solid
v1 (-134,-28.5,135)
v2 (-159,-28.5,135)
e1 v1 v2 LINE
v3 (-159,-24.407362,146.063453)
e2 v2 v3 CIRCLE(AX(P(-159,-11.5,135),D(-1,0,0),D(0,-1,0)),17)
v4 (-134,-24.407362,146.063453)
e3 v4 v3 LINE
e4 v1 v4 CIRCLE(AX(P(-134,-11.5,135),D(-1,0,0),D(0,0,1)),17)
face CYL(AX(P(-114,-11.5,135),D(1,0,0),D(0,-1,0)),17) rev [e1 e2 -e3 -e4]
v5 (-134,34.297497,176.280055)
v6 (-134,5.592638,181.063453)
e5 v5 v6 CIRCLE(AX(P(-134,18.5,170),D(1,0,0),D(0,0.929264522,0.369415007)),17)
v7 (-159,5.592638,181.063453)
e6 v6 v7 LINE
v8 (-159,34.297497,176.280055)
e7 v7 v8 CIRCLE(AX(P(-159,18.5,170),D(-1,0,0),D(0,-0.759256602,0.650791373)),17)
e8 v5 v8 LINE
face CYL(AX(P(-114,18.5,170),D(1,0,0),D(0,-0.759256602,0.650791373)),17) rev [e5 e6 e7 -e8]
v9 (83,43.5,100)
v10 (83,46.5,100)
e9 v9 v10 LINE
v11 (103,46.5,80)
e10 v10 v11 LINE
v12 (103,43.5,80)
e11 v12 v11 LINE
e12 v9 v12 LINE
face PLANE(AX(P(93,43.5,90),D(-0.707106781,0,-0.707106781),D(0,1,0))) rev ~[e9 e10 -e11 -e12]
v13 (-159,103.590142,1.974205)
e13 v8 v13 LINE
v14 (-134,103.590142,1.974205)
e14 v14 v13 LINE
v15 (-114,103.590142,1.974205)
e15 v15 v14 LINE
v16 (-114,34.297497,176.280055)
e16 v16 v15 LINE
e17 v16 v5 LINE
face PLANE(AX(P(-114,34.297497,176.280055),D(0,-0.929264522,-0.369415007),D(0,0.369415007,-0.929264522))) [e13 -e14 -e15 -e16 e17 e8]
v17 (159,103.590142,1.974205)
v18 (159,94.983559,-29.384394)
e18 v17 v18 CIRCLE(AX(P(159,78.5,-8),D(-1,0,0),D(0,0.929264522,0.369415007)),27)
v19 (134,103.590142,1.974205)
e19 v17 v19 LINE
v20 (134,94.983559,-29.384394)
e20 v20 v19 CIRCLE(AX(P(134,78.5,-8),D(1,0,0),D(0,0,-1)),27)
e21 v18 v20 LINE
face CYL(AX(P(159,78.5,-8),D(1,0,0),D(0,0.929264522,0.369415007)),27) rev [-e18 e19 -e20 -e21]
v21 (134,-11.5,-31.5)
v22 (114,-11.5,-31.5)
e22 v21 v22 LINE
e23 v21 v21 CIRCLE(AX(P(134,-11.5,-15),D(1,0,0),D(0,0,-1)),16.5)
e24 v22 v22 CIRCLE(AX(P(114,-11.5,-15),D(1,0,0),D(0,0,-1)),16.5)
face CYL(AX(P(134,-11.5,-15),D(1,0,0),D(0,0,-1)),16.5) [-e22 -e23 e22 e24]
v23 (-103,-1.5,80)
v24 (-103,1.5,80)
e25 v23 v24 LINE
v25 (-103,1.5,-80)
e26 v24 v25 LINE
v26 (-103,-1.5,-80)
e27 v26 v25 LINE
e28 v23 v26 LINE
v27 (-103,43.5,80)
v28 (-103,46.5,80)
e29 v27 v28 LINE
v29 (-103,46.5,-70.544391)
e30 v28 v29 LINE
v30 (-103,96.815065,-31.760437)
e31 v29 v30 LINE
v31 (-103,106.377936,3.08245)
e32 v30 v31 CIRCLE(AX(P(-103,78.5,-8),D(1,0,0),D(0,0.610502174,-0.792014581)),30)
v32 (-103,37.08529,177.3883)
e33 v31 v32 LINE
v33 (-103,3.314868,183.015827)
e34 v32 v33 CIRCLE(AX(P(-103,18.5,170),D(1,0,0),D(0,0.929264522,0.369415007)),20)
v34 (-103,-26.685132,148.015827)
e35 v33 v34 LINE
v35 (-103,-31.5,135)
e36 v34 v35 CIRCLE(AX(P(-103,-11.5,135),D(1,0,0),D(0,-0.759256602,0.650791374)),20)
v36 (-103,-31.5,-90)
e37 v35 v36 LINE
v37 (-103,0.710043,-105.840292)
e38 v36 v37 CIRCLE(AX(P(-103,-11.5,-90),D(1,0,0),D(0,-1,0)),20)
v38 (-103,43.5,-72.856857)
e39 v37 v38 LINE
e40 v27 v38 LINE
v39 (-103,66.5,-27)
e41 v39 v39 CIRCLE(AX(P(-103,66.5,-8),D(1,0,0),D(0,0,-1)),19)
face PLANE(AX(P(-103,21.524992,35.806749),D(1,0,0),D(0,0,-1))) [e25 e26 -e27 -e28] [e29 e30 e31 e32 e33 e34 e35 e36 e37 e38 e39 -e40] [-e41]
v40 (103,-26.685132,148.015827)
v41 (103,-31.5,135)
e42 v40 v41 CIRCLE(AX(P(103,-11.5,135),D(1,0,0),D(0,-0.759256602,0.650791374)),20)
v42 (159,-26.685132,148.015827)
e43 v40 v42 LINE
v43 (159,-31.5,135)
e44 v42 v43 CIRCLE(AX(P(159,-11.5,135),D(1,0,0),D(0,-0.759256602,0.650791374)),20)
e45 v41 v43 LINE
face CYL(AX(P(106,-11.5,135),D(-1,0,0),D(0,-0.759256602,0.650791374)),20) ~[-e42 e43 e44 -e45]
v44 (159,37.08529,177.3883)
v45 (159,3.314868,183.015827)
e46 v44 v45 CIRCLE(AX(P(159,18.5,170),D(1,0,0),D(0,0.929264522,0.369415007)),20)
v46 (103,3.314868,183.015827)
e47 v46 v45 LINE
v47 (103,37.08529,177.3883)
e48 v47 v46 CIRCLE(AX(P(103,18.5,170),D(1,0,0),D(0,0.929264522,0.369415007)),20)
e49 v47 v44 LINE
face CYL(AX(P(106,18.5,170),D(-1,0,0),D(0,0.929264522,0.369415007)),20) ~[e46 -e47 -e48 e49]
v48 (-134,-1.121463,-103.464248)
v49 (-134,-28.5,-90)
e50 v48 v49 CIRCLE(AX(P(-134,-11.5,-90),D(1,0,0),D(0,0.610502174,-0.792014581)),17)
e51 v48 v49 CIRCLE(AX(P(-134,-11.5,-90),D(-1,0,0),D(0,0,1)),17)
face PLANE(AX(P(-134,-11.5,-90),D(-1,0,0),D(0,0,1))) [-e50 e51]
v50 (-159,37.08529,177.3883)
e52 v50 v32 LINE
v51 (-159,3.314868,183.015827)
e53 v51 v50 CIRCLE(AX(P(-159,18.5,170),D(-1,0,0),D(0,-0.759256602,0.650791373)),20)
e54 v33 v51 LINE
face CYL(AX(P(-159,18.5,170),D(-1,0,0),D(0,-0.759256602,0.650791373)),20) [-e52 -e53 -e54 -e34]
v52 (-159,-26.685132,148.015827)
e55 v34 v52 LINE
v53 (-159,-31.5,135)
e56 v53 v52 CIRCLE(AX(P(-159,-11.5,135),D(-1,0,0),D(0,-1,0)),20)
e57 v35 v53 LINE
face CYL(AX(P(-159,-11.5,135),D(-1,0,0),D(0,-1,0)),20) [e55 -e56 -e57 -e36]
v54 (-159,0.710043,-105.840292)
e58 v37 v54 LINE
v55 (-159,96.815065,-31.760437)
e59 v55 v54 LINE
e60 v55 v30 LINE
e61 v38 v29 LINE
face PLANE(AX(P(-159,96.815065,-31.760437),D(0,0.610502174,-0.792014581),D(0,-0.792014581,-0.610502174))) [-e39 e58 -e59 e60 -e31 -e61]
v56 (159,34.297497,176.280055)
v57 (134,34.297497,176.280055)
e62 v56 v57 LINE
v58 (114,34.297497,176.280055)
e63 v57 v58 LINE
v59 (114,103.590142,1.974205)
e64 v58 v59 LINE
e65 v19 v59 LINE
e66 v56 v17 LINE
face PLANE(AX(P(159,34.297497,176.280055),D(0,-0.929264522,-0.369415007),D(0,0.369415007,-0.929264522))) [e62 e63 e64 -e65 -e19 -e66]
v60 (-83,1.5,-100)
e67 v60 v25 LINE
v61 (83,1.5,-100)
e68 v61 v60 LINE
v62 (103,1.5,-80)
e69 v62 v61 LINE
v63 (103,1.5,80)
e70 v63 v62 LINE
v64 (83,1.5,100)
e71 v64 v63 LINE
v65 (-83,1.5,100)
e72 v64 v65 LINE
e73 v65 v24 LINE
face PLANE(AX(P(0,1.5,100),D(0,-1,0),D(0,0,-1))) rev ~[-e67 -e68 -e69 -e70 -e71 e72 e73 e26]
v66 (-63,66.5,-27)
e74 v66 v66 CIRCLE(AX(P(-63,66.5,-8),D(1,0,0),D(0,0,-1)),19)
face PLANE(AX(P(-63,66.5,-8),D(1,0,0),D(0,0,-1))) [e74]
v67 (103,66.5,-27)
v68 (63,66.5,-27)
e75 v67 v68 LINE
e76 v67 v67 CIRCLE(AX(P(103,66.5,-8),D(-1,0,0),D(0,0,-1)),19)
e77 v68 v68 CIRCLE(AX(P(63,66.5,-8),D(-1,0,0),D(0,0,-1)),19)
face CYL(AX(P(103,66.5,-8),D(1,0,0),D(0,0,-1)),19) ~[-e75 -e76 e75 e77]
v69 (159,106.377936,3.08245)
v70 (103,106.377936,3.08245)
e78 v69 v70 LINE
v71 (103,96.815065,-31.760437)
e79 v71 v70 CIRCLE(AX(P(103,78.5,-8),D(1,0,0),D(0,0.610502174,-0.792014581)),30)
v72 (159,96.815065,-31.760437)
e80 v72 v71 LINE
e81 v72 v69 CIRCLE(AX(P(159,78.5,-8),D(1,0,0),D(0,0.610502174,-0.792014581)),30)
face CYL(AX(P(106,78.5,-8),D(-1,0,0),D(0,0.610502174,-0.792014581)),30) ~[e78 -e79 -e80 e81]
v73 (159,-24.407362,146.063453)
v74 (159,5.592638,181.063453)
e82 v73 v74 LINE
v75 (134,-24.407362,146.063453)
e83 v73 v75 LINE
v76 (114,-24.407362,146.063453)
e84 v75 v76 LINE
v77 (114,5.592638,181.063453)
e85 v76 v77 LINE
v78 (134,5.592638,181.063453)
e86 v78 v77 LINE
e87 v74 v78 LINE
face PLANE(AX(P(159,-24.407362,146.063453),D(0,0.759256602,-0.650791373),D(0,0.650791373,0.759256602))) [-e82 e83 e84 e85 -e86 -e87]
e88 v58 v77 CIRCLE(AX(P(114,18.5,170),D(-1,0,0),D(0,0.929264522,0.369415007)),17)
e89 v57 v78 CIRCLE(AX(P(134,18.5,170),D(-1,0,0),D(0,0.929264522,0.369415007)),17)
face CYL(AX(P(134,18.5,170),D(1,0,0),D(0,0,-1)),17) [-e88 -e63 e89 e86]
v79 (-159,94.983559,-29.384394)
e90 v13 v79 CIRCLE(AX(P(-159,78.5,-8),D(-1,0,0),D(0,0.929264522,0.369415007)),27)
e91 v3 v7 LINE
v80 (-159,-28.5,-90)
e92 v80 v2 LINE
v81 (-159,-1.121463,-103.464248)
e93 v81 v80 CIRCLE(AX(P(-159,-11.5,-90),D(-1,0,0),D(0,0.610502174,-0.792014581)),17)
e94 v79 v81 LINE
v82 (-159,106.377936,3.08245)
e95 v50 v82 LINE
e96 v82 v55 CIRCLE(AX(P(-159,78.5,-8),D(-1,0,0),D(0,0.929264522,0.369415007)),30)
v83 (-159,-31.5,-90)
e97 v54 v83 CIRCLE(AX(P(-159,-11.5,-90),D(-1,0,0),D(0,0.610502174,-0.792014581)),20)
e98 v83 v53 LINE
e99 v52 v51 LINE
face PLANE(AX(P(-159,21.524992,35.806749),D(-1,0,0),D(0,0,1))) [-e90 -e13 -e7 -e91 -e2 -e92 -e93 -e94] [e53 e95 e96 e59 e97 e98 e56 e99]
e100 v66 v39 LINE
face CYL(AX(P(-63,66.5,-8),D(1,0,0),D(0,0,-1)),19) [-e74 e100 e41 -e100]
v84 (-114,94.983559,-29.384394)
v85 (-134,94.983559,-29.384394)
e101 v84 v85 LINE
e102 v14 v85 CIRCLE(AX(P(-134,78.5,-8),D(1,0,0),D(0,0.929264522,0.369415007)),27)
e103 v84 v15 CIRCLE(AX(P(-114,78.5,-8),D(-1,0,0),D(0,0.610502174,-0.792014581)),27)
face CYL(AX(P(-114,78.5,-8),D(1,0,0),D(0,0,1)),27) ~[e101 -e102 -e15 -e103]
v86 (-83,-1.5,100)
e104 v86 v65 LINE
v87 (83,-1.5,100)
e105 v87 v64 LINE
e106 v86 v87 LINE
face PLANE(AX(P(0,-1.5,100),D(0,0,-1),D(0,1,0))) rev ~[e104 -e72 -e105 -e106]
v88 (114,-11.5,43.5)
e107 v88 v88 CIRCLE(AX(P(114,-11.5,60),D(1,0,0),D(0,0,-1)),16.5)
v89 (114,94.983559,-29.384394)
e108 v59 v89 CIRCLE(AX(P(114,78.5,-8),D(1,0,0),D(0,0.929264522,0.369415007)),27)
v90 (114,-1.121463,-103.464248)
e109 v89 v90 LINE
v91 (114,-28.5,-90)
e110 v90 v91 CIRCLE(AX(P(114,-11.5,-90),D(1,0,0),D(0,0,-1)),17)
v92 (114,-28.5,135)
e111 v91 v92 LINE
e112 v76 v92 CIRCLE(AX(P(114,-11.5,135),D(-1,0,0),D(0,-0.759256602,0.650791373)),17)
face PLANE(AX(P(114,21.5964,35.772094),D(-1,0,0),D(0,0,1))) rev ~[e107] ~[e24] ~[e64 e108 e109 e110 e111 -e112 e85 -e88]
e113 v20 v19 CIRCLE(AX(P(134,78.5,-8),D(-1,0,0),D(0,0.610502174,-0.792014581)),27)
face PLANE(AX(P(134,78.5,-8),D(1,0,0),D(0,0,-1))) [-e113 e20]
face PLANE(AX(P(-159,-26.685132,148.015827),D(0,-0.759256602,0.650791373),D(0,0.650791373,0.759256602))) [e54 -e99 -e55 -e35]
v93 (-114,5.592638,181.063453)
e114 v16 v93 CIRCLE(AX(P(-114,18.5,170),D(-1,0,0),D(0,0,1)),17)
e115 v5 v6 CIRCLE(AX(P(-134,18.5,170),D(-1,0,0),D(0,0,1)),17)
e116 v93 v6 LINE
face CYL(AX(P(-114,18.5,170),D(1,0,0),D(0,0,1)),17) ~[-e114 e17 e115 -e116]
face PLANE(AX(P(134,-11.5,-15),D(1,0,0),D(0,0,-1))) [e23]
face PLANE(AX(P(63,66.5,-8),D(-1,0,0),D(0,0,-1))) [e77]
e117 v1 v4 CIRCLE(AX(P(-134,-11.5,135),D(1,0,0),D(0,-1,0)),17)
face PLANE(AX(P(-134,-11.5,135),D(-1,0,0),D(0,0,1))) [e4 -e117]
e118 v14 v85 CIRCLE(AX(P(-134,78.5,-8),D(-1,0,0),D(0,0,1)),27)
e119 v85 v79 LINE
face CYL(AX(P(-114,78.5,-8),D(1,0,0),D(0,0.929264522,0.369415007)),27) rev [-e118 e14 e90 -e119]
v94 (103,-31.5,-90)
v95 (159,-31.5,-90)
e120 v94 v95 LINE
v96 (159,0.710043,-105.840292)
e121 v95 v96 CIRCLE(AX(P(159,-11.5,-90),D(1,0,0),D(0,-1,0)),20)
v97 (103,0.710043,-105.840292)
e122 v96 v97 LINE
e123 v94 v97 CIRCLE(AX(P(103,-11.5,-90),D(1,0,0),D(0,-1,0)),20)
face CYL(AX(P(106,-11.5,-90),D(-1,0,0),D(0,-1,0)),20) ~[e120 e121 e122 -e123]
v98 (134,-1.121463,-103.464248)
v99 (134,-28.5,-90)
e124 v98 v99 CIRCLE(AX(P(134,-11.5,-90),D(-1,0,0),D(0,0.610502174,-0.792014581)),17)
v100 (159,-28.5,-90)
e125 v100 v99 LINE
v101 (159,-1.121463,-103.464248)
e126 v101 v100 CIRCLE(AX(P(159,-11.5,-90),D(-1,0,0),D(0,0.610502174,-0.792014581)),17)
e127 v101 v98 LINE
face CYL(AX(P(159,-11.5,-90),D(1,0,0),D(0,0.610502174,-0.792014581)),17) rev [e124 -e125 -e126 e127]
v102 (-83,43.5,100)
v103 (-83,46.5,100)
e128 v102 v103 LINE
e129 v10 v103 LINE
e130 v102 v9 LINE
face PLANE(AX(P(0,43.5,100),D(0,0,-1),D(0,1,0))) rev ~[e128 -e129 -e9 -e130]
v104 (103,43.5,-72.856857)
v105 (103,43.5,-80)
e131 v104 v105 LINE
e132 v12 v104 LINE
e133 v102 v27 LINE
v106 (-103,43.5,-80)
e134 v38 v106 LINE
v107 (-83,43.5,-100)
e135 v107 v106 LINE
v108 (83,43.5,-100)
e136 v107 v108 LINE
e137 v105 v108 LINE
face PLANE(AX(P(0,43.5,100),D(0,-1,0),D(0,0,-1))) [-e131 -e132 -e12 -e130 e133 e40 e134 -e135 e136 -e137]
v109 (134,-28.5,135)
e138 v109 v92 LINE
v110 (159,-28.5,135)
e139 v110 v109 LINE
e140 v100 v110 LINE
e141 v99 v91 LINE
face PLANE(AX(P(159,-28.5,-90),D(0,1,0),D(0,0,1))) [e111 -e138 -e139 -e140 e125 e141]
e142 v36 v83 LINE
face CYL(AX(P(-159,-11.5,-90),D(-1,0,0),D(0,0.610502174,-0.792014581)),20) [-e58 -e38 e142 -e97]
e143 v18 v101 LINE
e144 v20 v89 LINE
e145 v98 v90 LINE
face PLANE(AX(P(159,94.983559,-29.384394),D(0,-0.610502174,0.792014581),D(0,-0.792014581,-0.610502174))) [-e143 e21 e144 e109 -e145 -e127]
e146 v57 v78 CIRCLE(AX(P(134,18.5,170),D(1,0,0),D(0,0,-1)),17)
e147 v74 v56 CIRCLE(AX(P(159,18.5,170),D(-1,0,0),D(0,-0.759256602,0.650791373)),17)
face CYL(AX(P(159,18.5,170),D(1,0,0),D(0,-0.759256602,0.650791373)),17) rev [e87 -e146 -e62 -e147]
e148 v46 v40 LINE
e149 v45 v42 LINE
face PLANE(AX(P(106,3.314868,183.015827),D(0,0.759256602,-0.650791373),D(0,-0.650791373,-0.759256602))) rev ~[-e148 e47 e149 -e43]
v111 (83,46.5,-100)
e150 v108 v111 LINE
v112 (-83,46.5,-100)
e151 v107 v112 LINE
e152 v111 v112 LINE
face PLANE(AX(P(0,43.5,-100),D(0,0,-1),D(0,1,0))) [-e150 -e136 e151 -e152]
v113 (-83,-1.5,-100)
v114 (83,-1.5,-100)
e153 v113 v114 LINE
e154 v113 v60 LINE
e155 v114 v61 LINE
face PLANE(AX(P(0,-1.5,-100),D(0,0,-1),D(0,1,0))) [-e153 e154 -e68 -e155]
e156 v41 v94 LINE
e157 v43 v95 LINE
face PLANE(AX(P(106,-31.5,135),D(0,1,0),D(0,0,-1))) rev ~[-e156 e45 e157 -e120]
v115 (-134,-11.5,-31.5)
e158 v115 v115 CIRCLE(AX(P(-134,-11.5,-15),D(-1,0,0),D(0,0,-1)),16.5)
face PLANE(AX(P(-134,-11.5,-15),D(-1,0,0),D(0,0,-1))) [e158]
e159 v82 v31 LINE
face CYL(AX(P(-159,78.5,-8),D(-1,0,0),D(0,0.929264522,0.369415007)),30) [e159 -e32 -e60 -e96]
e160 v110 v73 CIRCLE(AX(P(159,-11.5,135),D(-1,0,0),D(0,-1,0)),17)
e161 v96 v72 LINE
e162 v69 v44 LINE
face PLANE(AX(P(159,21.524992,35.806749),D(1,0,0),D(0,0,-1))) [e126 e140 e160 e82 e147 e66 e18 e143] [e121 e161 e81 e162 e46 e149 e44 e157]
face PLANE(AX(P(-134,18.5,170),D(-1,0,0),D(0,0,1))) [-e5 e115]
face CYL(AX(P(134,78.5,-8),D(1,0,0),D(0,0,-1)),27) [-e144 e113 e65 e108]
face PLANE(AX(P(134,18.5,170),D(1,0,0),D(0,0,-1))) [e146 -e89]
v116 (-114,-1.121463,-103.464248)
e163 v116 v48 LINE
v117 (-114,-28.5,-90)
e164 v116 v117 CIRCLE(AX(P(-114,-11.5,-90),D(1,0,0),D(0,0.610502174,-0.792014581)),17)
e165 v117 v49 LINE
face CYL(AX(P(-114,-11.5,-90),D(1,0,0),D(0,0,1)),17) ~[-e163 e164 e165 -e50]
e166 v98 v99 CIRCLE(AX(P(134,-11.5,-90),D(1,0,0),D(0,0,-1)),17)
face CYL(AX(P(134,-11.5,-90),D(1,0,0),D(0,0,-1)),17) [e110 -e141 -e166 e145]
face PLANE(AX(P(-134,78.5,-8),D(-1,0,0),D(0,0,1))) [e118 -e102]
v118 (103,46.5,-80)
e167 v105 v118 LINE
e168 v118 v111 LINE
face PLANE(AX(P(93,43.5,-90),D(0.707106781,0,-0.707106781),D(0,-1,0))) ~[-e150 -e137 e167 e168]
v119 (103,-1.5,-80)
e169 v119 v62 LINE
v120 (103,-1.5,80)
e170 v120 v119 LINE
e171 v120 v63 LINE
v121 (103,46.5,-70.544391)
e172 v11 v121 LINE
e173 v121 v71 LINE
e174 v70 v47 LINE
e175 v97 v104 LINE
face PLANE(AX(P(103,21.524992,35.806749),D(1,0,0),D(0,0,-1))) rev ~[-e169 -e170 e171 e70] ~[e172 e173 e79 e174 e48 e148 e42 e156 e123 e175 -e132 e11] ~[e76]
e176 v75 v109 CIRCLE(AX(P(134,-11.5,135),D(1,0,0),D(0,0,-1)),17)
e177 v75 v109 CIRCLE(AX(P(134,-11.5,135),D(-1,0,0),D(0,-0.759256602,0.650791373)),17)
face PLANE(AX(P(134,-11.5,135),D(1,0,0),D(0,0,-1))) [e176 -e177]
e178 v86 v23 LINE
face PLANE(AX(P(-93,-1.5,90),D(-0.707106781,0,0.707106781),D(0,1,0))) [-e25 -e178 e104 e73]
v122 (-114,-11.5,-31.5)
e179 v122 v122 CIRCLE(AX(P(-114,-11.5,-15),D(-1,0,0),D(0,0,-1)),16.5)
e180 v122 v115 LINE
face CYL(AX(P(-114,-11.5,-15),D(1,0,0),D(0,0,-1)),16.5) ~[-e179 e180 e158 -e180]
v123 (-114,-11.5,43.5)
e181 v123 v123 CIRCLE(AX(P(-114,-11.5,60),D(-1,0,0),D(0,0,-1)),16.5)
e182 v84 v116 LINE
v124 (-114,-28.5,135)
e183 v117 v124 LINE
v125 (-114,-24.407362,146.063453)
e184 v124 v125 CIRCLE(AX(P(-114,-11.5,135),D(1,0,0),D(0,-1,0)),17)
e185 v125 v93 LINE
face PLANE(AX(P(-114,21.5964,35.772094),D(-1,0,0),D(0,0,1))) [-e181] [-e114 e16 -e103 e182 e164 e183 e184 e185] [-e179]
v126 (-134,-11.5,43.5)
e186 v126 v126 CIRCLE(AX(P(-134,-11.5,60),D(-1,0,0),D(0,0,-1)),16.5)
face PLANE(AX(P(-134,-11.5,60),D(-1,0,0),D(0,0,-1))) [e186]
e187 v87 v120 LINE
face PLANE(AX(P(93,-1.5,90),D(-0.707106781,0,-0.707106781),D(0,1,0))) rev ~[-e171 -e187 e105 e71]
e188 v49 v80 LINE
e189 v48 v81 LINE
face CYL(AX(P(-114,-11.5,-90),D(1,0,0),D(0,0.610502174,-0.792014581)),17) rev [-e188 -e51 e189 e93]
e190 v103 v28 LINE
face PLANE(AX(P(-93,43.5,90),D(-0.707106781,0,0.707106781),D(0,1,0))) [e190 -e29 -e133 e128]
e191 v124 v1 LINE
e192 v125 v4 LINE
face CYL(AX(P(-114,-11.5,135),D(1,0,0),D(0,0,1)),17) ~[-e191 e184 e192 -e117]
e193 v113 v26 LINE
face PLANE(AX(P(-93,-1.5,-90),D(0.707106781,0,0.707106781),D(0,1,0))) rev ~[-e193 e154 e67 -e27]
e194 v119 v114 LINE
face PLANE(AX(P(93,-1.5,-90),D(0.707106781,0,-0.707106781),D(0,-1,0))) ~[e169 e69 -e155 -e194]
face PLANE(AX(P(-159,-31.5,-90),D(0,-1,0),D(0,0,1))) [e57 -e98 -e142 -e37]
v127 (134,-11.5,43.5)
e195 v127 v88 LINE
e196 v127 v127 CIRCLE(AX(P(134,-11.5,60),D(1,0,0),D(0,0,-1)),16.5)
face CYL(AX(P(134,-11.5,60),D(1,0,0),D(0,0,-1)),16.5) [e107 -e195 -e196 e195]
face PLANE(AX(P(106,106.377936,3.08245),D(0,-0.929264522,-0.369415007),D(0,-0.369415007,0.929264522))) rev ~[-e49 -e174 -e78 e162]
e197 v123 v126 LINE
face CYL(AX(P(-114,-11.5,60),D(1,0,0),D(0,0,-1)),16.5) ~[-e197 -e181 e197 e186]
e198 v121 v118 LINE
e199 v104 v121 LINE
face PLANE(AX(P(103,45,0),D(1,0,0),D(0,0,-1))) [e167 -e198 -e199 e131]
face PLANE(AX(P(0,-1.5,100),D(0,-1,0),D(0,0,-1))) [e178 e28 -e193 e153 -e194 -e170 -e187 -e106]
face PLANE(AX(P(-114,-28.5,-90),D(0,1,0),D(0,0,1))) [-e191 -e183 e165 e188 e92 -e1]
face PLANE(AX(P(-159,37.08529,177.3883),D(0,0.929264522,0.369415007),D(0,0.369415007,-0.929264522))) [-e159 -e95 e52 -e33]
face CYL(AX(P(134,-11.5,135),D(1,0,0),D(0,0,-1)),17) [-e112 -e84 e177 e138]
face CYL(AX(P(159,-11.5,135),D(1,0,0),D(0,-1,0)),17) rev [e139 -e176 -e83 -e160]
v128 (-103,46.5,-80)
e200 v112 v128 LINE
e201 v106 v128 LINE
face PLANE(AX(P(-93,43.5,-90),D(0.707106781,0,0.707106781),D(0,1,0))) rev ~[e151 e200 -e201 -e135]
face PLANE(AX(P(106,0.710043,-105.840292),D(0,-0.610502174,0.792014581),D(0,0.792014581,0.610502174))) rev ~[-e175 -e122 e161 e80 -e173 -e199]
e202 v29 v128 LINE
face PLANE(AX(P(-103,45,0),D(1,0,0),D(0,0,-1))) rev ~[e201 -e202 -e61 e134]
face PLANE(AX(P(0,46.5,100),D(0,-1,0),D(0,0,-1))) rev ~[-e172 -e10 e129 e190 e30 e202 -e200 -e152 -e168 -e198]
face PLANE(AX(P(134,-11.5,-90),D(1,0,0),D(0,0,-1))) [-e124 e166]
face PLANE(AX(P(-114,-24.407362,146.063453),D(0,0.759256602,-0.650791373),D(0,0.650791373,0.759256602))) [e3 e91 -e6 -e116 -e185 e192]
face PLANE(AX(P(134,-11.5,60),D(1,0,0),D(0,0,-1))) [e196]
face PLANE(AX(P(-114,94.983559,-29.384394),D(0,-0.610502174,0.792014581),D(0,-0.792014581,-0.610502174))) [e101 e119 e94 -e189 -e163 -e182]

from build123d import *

# Parameters (mm, degrees)
SKETCH_1_W          = 200
SKETCH_1_H          = 3
EXTRUDE_1_DEPTH     = 103
EXTRUDE_1_2_DEPTH   = 103
CHAMFER_1_SIZE      = 20
CHAMFER_2_SIZE      = 20
EXTRUDE_2_DEPTH     = 3
EXTRUDE_START       = 3
EXTRUDE_3_DEPTH     = 3
EXTRUDE_5_DEPTH     = 53
CUT_EXTRUDE_1_DEPTH = 45
EXTRUDE_START_2     = 53
EXTRUDE_6_DEPTH     = 53
CUT_EXTRUDE_START   = -45
CUT_EXTRUDE_3_DEPTH = 45
EXTRUDE_START_3     = 20
SKETCH_10_R         = 27
SKETCH_10_R_2       = 17
SKETCH_10_R_3       = 16.5
EXTRUDE_8_DEPTH     = 20
SKETCH_11_R         = 27
SKETCH_11_R_2       = 17
SKETCH_11_R_3       = 16.5
EXTRUDE_9_DEPTH     = 20
SKETCH_12_R         = 19
EXTRUDE_10_DEPTH    = 40
EXTRUDE_START_4     = 40
SKETCH_13_R         = 19
EXTRUDE_11_DEPTH    = 40


with BuildPart() as part:
    # 草图1 → 凸台-拉伸1 (new, symmetric)
    with BuildSketch(Plane(origin=(0, 0, 0), x_dir=(0, 0, -1), z_dir=(1, 0, 0))):
        Rectangle(SKETCH_1_W, SKETCH_1_H)
    extrude(amount=EXTRUDE_1_DEPTH, both=True)

    # 倒角2
    chamfer_2_edges = [part.edges().sort_by_distance(p)[0] for p in [
        (103, 0, 100),
        (103, 0, -100),
        (-103, 0, 100),
        (-103, 0, -100),
    ]]
    chamfer(chamfer_2_edges, length=CHAMFER_2_SIZE)



with BuildPart() as body_2:
    # 草图1 → Extrude 1 2 (new, symmetric)
    with BuildSketch(Plane(origin=(0, 0, 0), x_dir=(0, 0, -1), z_dir=(1, 0, 0))):
        with Locations((0, 45)):
            Rectangle(SKETCH_1_W, SKETCH_1_H)
    extrude(amount=EXTRUDE_1_2_DEPTH, both=True)

    # 倒角1
    chamfer_1_edges = [body_2.edges().sort_by_distance(p)[0] for p in [
        (103, 45, -100),
        (103, 45, 100),
        (-103, 45, -100),
        (-103, 45, 100),
    ]]
    chamfer(chamfer_1_edges, length=CHAMFER_1_SIZE)


with BuildPart() as part_1:
    add(part.part)

    add(body_2.part)  # 凸台-拉伸2 merges body 2
    # 草图2 → 凸台-拉伸2 (add)
    with BuildSketch(Plane(origin=(103, 0, 0), x_dir=(0, 0, -1), z_dir=(1, 0, 0))):
        with BuildLine():
            Line((105.840291615, 0.710043471), (31.760437422, 96.815065207))
            ThreePointArc((31.760437422, 96.815065207), (15.940085812, 107.430175203), (-3.082450225, 106.377935666))
            Line((-3.082450225, 106.377935666), (-177.38830015, 37.085290444))
            ThreePointArc((-177.38830015, 37.085290444), (-189.727961496, 21.787481591), (-183.015827469, 3.314867953))
            Line((-183.015827469, 3.314867953), (-148.015827469, -26.685132047))
            ThreePointArc((-148.015827469, -26.685132047), (-141.938924955, -30.257700298), (-135, -31.5))
            Line((-135, -31.5), (90, -31.5))
            ThreePointArc((90, -31.5), (107.947156731, -20.326073039), (105.840291615, 0.710043471))
        make_face()
    extrude(amount=EXTRUDE_2_DEPTH)

    # 草图3 → 凸台-拉伸3 (add)
    with BuildSketch(Plane.ZY.offset(103).offset(EXTRUDE_START)):
        with BuildLine():
            Line((-105.840291615, 0.710043471), (-31.760437422, 96.815065207))
            ThreePointArc((-31.760437422, 96.815065207), (-15.940085812, 107.430175203), (3.082450225, 106.377935666))
            Line((3.082450225, 106.377935666), (177.38830015, 37.085290444))
            ThreePointArc((177.38830015, 37.085290444), (189.727961496, 21.787481591), (183.015827469, 3.314867953))
            Line((183.015827469, 3.314867953), (148.015827469, -26.685132047))
            ThreePointArc((148.015827469, -26.685132047), (141.938924955, -30.257700298), (135, -31.5))
            Line((135, -31.5), (-90, -31.5))
            ThreePointArc((-90, -31.5), (-107.947156731, -20.326073039), (-105.840291615, 0.710043471))
        make_face()
    extrude(amount=-EXTRUDE_3_DEPTH)

    # 草图4 → 凸台-拉伸5 (add)
    with BuildSketch(Plane(origin=(106, 0, 0), x_dir=(0, 0, -1), z_dir=(1, 0, 0))):
        with BuildLine():
            Line((-3.082450225, 106.377935666), (-177.38830015, 37.085290444))
            ThreePointArc((-177.38830015, 37.085290444), (-189.727961496, 21.787481591), (-183.015827469, 3.314867953))
            Line((-183.015827469, 3.314867953), (-148.015827469, -26.685132047))
            ThreePointArc((-148.015827469, -26.685132047), (-141.938924955, -30.257700298), (-135, -31.5))
            Line((-135, -31.5), (90, -31.5))
            ThreePointArc((90, -31.5), (107.947156731, -20.326073039), (105.840291615, 0.710043471))
            Line((105.840291615, 0.710043471), (31.760437422, 96.815065207))
            ThreePointArc((31.760437422, 96.815065207), (15.940085812, 107.430175203), (-3.082450225, 106.377935666))
        make_face()
    extrude(amount=EXTRUDE_5_DEPTH)

    # 草图6 → 切除-拉伸1 (cut)
    with BuildSketch(Plane(origin=(159, 0, 0), x_dir=(0, 0, -1), z_dir=(1, 0, 0))):
        with BuildLine():
            Line((-176.280055127, 34.297496878), (-1.974205202, 103.5901421))
            ThreePointArc((-1.974205202, 103.5901421), (15.146077231, 104.537157683), (29.38439368, 94.983558686))
            Line((29.38439368, 94.983558686), (103.464247872, -1.12146305))
            ThreePointArc((103.464247872, -1.12146305), (105.255083221, -19.002162083), (90, -28.5))
            Line((90, -28.5), (-135, -28.5))
            ThreePointArc((-135, -28.5), (-140.898086211, -27.444045253), (-146.063453349, -24.40736224))
            Line((-146.063453349, -24.40736224), (-181.063453349, 5.59263776))
            ThreePointArc((-181.063453349, 5.59263776), (-186.768767272, 21.294359353), (-176.280055127, 34.297496878))
        make_face()
    extrude(amount=-CUT_EXTRUDE_1_DEPTH, mode=Mode.SUBTRACT)

    # 草图8 → 凸台-拉伸6 (add)
    with BuildSketch(Plane.ZY.offset(106).offset(EXTRUDE_START_2)):
        with BuildLine():
            Line((-31.760437422, 96.815065207), (-105.840291615, 0.710043471))
            ThreePointArc((-105.840291615, 0.710043471), (-107.947156731, -20.326073039), (-90, -31.5))
            Line((-90, -31.5), (135, -31.5))
            ThreePointArc((135, -31.5), (141.938924955, -30.257700298), (148.015827469, -26.685132047))
            Line((148.015827469, -26.685132047), (183.015827469, 3.314867953))
            ThreePointArc((183.015827469, 3.314867953), (189.727961496, 21.787481591), (177.38830015, 37.085290444))
            Line((177.38830015, 37.085290444), (3.082450225, 106.377935666))
            ThreePointArc((3.082450225, 106.377935666), (-15.940085812, 107.430175203), (-31.760437422, 96.815065207))
        make_face()
    extrude(amount=-EXTRUDE_6_DEPTH)

    # 草图9 → 切除-拉伸3 (cut)
    with BuildSketch(Plane.ZY.offset(159).offset(CUT_EXTRUDE_START)):
        with BuildLine():
            Line((-29.38439368, 94.983558686), (-103.464247872, -1.12146305))
            ThreePointArc((-103.464247872, -1.12146305), (-105.255083221, -19.002162083), (-90, -28.5))
            Line((-90, -28.5), (135, -28.5))
            ThreePointArc((135, -28.5), (140.898086211, -27.444045253), (146.063453349, -24.40736224))
            Line((146.063453349, -24.40736224), (181.063453349, 5.59263776))
            ThreePointArc((181.063453349, 5.59263776), (186.768767272, 21.294359353), (176.280055127, 34.297496878))
            Line((176.280055127, 34.297496878), (1.974205202, 103.5901421))
            ThreePointArc((1.974205202, 103.5901421), (-15.146077231, 104.537157683), (-29.38439368, 94.983558686))
        make_face()
    extrude(amount=CUT_EXTRUDE_3_DEPTH, mode=Mode.SUBTRACT)

    # 草图10 → 凸台-拉伸8 (add)
    with BuildSketch(Plane(origin=(114, 0, 0), x_dir=(0, 0, -1), z_dir=(1, 0, 0)).offset(EXTRUDE_START_3)):
        with Locations((8, 78.5)):
            Circle(SKETCH_10_R)
        with Locations((-170, 18.5)):
            Circle(SKETCH_10_R_2)
        with Locations((-135, -11.5)):
            Circle(SKETCH_10_R_2)
        with Locations((-60, -11.5)):
            Circle(SKETCH_10_R_3)
        with Locations((15, -11.5)):
            Circle(SKETCH_10_R_3)
        with Locations((90, -11.5)):
            Circle(SKETCH_10_R_2)
    extrude(amount=-EXTRUDE_8_DEPTH)

    # 草图11 → 凸台-拉伸9 (add)
    with BuildSketch(Plane.ZY.offset(114)):
        with Locations((-8, 78.5)):
            Circle(SKETCH_11_R)
        with Locations((-90, -11.5)):
            Circle(SKETCH_11_R_2)
        with Locations(Location((-15, -11.5, 0), (0, 0, 180))):
            Circle(SKETCH_11_R_3)
        with Locations(Location((60, -11.5, 0), (0, 0, 180))):
            Circle(SKETCH_11_R_3)
        with Locations((135, -11.5)):
            Circle(SKETCH_11_R_2)
        with Locations((170, 18.5)):
            Circle(SKETCH_11_R_2)
    extrude(amount=EXTRUDE_9_DEPTH)

    # 草图12 → 凸台-拉伸10 (add)
    with BuildSketch(Plane.ZY.offset(-103)):
        with Locations(Location((-8, 66.5, 0), (0, 0, 180))):
            Circle(SKETCH_12_R)
    extrude(amount=EXTRUDE_10_DEPTH)

    # 草图13 → 凸台-拉伸11 (add)
    with BuildSketch(Plane(origin=(-103, 0, 0), x_dir=(0, 0, -1), z_dir=(1, 0, 0)).offset(EXTRUDE_START_4)):
        with Locations((8, 66.5)):
            Circle(SKETCH_13_R)
    extrude(amount=-EXTRUDE_11_DEPTH)


solid = part_1.part
